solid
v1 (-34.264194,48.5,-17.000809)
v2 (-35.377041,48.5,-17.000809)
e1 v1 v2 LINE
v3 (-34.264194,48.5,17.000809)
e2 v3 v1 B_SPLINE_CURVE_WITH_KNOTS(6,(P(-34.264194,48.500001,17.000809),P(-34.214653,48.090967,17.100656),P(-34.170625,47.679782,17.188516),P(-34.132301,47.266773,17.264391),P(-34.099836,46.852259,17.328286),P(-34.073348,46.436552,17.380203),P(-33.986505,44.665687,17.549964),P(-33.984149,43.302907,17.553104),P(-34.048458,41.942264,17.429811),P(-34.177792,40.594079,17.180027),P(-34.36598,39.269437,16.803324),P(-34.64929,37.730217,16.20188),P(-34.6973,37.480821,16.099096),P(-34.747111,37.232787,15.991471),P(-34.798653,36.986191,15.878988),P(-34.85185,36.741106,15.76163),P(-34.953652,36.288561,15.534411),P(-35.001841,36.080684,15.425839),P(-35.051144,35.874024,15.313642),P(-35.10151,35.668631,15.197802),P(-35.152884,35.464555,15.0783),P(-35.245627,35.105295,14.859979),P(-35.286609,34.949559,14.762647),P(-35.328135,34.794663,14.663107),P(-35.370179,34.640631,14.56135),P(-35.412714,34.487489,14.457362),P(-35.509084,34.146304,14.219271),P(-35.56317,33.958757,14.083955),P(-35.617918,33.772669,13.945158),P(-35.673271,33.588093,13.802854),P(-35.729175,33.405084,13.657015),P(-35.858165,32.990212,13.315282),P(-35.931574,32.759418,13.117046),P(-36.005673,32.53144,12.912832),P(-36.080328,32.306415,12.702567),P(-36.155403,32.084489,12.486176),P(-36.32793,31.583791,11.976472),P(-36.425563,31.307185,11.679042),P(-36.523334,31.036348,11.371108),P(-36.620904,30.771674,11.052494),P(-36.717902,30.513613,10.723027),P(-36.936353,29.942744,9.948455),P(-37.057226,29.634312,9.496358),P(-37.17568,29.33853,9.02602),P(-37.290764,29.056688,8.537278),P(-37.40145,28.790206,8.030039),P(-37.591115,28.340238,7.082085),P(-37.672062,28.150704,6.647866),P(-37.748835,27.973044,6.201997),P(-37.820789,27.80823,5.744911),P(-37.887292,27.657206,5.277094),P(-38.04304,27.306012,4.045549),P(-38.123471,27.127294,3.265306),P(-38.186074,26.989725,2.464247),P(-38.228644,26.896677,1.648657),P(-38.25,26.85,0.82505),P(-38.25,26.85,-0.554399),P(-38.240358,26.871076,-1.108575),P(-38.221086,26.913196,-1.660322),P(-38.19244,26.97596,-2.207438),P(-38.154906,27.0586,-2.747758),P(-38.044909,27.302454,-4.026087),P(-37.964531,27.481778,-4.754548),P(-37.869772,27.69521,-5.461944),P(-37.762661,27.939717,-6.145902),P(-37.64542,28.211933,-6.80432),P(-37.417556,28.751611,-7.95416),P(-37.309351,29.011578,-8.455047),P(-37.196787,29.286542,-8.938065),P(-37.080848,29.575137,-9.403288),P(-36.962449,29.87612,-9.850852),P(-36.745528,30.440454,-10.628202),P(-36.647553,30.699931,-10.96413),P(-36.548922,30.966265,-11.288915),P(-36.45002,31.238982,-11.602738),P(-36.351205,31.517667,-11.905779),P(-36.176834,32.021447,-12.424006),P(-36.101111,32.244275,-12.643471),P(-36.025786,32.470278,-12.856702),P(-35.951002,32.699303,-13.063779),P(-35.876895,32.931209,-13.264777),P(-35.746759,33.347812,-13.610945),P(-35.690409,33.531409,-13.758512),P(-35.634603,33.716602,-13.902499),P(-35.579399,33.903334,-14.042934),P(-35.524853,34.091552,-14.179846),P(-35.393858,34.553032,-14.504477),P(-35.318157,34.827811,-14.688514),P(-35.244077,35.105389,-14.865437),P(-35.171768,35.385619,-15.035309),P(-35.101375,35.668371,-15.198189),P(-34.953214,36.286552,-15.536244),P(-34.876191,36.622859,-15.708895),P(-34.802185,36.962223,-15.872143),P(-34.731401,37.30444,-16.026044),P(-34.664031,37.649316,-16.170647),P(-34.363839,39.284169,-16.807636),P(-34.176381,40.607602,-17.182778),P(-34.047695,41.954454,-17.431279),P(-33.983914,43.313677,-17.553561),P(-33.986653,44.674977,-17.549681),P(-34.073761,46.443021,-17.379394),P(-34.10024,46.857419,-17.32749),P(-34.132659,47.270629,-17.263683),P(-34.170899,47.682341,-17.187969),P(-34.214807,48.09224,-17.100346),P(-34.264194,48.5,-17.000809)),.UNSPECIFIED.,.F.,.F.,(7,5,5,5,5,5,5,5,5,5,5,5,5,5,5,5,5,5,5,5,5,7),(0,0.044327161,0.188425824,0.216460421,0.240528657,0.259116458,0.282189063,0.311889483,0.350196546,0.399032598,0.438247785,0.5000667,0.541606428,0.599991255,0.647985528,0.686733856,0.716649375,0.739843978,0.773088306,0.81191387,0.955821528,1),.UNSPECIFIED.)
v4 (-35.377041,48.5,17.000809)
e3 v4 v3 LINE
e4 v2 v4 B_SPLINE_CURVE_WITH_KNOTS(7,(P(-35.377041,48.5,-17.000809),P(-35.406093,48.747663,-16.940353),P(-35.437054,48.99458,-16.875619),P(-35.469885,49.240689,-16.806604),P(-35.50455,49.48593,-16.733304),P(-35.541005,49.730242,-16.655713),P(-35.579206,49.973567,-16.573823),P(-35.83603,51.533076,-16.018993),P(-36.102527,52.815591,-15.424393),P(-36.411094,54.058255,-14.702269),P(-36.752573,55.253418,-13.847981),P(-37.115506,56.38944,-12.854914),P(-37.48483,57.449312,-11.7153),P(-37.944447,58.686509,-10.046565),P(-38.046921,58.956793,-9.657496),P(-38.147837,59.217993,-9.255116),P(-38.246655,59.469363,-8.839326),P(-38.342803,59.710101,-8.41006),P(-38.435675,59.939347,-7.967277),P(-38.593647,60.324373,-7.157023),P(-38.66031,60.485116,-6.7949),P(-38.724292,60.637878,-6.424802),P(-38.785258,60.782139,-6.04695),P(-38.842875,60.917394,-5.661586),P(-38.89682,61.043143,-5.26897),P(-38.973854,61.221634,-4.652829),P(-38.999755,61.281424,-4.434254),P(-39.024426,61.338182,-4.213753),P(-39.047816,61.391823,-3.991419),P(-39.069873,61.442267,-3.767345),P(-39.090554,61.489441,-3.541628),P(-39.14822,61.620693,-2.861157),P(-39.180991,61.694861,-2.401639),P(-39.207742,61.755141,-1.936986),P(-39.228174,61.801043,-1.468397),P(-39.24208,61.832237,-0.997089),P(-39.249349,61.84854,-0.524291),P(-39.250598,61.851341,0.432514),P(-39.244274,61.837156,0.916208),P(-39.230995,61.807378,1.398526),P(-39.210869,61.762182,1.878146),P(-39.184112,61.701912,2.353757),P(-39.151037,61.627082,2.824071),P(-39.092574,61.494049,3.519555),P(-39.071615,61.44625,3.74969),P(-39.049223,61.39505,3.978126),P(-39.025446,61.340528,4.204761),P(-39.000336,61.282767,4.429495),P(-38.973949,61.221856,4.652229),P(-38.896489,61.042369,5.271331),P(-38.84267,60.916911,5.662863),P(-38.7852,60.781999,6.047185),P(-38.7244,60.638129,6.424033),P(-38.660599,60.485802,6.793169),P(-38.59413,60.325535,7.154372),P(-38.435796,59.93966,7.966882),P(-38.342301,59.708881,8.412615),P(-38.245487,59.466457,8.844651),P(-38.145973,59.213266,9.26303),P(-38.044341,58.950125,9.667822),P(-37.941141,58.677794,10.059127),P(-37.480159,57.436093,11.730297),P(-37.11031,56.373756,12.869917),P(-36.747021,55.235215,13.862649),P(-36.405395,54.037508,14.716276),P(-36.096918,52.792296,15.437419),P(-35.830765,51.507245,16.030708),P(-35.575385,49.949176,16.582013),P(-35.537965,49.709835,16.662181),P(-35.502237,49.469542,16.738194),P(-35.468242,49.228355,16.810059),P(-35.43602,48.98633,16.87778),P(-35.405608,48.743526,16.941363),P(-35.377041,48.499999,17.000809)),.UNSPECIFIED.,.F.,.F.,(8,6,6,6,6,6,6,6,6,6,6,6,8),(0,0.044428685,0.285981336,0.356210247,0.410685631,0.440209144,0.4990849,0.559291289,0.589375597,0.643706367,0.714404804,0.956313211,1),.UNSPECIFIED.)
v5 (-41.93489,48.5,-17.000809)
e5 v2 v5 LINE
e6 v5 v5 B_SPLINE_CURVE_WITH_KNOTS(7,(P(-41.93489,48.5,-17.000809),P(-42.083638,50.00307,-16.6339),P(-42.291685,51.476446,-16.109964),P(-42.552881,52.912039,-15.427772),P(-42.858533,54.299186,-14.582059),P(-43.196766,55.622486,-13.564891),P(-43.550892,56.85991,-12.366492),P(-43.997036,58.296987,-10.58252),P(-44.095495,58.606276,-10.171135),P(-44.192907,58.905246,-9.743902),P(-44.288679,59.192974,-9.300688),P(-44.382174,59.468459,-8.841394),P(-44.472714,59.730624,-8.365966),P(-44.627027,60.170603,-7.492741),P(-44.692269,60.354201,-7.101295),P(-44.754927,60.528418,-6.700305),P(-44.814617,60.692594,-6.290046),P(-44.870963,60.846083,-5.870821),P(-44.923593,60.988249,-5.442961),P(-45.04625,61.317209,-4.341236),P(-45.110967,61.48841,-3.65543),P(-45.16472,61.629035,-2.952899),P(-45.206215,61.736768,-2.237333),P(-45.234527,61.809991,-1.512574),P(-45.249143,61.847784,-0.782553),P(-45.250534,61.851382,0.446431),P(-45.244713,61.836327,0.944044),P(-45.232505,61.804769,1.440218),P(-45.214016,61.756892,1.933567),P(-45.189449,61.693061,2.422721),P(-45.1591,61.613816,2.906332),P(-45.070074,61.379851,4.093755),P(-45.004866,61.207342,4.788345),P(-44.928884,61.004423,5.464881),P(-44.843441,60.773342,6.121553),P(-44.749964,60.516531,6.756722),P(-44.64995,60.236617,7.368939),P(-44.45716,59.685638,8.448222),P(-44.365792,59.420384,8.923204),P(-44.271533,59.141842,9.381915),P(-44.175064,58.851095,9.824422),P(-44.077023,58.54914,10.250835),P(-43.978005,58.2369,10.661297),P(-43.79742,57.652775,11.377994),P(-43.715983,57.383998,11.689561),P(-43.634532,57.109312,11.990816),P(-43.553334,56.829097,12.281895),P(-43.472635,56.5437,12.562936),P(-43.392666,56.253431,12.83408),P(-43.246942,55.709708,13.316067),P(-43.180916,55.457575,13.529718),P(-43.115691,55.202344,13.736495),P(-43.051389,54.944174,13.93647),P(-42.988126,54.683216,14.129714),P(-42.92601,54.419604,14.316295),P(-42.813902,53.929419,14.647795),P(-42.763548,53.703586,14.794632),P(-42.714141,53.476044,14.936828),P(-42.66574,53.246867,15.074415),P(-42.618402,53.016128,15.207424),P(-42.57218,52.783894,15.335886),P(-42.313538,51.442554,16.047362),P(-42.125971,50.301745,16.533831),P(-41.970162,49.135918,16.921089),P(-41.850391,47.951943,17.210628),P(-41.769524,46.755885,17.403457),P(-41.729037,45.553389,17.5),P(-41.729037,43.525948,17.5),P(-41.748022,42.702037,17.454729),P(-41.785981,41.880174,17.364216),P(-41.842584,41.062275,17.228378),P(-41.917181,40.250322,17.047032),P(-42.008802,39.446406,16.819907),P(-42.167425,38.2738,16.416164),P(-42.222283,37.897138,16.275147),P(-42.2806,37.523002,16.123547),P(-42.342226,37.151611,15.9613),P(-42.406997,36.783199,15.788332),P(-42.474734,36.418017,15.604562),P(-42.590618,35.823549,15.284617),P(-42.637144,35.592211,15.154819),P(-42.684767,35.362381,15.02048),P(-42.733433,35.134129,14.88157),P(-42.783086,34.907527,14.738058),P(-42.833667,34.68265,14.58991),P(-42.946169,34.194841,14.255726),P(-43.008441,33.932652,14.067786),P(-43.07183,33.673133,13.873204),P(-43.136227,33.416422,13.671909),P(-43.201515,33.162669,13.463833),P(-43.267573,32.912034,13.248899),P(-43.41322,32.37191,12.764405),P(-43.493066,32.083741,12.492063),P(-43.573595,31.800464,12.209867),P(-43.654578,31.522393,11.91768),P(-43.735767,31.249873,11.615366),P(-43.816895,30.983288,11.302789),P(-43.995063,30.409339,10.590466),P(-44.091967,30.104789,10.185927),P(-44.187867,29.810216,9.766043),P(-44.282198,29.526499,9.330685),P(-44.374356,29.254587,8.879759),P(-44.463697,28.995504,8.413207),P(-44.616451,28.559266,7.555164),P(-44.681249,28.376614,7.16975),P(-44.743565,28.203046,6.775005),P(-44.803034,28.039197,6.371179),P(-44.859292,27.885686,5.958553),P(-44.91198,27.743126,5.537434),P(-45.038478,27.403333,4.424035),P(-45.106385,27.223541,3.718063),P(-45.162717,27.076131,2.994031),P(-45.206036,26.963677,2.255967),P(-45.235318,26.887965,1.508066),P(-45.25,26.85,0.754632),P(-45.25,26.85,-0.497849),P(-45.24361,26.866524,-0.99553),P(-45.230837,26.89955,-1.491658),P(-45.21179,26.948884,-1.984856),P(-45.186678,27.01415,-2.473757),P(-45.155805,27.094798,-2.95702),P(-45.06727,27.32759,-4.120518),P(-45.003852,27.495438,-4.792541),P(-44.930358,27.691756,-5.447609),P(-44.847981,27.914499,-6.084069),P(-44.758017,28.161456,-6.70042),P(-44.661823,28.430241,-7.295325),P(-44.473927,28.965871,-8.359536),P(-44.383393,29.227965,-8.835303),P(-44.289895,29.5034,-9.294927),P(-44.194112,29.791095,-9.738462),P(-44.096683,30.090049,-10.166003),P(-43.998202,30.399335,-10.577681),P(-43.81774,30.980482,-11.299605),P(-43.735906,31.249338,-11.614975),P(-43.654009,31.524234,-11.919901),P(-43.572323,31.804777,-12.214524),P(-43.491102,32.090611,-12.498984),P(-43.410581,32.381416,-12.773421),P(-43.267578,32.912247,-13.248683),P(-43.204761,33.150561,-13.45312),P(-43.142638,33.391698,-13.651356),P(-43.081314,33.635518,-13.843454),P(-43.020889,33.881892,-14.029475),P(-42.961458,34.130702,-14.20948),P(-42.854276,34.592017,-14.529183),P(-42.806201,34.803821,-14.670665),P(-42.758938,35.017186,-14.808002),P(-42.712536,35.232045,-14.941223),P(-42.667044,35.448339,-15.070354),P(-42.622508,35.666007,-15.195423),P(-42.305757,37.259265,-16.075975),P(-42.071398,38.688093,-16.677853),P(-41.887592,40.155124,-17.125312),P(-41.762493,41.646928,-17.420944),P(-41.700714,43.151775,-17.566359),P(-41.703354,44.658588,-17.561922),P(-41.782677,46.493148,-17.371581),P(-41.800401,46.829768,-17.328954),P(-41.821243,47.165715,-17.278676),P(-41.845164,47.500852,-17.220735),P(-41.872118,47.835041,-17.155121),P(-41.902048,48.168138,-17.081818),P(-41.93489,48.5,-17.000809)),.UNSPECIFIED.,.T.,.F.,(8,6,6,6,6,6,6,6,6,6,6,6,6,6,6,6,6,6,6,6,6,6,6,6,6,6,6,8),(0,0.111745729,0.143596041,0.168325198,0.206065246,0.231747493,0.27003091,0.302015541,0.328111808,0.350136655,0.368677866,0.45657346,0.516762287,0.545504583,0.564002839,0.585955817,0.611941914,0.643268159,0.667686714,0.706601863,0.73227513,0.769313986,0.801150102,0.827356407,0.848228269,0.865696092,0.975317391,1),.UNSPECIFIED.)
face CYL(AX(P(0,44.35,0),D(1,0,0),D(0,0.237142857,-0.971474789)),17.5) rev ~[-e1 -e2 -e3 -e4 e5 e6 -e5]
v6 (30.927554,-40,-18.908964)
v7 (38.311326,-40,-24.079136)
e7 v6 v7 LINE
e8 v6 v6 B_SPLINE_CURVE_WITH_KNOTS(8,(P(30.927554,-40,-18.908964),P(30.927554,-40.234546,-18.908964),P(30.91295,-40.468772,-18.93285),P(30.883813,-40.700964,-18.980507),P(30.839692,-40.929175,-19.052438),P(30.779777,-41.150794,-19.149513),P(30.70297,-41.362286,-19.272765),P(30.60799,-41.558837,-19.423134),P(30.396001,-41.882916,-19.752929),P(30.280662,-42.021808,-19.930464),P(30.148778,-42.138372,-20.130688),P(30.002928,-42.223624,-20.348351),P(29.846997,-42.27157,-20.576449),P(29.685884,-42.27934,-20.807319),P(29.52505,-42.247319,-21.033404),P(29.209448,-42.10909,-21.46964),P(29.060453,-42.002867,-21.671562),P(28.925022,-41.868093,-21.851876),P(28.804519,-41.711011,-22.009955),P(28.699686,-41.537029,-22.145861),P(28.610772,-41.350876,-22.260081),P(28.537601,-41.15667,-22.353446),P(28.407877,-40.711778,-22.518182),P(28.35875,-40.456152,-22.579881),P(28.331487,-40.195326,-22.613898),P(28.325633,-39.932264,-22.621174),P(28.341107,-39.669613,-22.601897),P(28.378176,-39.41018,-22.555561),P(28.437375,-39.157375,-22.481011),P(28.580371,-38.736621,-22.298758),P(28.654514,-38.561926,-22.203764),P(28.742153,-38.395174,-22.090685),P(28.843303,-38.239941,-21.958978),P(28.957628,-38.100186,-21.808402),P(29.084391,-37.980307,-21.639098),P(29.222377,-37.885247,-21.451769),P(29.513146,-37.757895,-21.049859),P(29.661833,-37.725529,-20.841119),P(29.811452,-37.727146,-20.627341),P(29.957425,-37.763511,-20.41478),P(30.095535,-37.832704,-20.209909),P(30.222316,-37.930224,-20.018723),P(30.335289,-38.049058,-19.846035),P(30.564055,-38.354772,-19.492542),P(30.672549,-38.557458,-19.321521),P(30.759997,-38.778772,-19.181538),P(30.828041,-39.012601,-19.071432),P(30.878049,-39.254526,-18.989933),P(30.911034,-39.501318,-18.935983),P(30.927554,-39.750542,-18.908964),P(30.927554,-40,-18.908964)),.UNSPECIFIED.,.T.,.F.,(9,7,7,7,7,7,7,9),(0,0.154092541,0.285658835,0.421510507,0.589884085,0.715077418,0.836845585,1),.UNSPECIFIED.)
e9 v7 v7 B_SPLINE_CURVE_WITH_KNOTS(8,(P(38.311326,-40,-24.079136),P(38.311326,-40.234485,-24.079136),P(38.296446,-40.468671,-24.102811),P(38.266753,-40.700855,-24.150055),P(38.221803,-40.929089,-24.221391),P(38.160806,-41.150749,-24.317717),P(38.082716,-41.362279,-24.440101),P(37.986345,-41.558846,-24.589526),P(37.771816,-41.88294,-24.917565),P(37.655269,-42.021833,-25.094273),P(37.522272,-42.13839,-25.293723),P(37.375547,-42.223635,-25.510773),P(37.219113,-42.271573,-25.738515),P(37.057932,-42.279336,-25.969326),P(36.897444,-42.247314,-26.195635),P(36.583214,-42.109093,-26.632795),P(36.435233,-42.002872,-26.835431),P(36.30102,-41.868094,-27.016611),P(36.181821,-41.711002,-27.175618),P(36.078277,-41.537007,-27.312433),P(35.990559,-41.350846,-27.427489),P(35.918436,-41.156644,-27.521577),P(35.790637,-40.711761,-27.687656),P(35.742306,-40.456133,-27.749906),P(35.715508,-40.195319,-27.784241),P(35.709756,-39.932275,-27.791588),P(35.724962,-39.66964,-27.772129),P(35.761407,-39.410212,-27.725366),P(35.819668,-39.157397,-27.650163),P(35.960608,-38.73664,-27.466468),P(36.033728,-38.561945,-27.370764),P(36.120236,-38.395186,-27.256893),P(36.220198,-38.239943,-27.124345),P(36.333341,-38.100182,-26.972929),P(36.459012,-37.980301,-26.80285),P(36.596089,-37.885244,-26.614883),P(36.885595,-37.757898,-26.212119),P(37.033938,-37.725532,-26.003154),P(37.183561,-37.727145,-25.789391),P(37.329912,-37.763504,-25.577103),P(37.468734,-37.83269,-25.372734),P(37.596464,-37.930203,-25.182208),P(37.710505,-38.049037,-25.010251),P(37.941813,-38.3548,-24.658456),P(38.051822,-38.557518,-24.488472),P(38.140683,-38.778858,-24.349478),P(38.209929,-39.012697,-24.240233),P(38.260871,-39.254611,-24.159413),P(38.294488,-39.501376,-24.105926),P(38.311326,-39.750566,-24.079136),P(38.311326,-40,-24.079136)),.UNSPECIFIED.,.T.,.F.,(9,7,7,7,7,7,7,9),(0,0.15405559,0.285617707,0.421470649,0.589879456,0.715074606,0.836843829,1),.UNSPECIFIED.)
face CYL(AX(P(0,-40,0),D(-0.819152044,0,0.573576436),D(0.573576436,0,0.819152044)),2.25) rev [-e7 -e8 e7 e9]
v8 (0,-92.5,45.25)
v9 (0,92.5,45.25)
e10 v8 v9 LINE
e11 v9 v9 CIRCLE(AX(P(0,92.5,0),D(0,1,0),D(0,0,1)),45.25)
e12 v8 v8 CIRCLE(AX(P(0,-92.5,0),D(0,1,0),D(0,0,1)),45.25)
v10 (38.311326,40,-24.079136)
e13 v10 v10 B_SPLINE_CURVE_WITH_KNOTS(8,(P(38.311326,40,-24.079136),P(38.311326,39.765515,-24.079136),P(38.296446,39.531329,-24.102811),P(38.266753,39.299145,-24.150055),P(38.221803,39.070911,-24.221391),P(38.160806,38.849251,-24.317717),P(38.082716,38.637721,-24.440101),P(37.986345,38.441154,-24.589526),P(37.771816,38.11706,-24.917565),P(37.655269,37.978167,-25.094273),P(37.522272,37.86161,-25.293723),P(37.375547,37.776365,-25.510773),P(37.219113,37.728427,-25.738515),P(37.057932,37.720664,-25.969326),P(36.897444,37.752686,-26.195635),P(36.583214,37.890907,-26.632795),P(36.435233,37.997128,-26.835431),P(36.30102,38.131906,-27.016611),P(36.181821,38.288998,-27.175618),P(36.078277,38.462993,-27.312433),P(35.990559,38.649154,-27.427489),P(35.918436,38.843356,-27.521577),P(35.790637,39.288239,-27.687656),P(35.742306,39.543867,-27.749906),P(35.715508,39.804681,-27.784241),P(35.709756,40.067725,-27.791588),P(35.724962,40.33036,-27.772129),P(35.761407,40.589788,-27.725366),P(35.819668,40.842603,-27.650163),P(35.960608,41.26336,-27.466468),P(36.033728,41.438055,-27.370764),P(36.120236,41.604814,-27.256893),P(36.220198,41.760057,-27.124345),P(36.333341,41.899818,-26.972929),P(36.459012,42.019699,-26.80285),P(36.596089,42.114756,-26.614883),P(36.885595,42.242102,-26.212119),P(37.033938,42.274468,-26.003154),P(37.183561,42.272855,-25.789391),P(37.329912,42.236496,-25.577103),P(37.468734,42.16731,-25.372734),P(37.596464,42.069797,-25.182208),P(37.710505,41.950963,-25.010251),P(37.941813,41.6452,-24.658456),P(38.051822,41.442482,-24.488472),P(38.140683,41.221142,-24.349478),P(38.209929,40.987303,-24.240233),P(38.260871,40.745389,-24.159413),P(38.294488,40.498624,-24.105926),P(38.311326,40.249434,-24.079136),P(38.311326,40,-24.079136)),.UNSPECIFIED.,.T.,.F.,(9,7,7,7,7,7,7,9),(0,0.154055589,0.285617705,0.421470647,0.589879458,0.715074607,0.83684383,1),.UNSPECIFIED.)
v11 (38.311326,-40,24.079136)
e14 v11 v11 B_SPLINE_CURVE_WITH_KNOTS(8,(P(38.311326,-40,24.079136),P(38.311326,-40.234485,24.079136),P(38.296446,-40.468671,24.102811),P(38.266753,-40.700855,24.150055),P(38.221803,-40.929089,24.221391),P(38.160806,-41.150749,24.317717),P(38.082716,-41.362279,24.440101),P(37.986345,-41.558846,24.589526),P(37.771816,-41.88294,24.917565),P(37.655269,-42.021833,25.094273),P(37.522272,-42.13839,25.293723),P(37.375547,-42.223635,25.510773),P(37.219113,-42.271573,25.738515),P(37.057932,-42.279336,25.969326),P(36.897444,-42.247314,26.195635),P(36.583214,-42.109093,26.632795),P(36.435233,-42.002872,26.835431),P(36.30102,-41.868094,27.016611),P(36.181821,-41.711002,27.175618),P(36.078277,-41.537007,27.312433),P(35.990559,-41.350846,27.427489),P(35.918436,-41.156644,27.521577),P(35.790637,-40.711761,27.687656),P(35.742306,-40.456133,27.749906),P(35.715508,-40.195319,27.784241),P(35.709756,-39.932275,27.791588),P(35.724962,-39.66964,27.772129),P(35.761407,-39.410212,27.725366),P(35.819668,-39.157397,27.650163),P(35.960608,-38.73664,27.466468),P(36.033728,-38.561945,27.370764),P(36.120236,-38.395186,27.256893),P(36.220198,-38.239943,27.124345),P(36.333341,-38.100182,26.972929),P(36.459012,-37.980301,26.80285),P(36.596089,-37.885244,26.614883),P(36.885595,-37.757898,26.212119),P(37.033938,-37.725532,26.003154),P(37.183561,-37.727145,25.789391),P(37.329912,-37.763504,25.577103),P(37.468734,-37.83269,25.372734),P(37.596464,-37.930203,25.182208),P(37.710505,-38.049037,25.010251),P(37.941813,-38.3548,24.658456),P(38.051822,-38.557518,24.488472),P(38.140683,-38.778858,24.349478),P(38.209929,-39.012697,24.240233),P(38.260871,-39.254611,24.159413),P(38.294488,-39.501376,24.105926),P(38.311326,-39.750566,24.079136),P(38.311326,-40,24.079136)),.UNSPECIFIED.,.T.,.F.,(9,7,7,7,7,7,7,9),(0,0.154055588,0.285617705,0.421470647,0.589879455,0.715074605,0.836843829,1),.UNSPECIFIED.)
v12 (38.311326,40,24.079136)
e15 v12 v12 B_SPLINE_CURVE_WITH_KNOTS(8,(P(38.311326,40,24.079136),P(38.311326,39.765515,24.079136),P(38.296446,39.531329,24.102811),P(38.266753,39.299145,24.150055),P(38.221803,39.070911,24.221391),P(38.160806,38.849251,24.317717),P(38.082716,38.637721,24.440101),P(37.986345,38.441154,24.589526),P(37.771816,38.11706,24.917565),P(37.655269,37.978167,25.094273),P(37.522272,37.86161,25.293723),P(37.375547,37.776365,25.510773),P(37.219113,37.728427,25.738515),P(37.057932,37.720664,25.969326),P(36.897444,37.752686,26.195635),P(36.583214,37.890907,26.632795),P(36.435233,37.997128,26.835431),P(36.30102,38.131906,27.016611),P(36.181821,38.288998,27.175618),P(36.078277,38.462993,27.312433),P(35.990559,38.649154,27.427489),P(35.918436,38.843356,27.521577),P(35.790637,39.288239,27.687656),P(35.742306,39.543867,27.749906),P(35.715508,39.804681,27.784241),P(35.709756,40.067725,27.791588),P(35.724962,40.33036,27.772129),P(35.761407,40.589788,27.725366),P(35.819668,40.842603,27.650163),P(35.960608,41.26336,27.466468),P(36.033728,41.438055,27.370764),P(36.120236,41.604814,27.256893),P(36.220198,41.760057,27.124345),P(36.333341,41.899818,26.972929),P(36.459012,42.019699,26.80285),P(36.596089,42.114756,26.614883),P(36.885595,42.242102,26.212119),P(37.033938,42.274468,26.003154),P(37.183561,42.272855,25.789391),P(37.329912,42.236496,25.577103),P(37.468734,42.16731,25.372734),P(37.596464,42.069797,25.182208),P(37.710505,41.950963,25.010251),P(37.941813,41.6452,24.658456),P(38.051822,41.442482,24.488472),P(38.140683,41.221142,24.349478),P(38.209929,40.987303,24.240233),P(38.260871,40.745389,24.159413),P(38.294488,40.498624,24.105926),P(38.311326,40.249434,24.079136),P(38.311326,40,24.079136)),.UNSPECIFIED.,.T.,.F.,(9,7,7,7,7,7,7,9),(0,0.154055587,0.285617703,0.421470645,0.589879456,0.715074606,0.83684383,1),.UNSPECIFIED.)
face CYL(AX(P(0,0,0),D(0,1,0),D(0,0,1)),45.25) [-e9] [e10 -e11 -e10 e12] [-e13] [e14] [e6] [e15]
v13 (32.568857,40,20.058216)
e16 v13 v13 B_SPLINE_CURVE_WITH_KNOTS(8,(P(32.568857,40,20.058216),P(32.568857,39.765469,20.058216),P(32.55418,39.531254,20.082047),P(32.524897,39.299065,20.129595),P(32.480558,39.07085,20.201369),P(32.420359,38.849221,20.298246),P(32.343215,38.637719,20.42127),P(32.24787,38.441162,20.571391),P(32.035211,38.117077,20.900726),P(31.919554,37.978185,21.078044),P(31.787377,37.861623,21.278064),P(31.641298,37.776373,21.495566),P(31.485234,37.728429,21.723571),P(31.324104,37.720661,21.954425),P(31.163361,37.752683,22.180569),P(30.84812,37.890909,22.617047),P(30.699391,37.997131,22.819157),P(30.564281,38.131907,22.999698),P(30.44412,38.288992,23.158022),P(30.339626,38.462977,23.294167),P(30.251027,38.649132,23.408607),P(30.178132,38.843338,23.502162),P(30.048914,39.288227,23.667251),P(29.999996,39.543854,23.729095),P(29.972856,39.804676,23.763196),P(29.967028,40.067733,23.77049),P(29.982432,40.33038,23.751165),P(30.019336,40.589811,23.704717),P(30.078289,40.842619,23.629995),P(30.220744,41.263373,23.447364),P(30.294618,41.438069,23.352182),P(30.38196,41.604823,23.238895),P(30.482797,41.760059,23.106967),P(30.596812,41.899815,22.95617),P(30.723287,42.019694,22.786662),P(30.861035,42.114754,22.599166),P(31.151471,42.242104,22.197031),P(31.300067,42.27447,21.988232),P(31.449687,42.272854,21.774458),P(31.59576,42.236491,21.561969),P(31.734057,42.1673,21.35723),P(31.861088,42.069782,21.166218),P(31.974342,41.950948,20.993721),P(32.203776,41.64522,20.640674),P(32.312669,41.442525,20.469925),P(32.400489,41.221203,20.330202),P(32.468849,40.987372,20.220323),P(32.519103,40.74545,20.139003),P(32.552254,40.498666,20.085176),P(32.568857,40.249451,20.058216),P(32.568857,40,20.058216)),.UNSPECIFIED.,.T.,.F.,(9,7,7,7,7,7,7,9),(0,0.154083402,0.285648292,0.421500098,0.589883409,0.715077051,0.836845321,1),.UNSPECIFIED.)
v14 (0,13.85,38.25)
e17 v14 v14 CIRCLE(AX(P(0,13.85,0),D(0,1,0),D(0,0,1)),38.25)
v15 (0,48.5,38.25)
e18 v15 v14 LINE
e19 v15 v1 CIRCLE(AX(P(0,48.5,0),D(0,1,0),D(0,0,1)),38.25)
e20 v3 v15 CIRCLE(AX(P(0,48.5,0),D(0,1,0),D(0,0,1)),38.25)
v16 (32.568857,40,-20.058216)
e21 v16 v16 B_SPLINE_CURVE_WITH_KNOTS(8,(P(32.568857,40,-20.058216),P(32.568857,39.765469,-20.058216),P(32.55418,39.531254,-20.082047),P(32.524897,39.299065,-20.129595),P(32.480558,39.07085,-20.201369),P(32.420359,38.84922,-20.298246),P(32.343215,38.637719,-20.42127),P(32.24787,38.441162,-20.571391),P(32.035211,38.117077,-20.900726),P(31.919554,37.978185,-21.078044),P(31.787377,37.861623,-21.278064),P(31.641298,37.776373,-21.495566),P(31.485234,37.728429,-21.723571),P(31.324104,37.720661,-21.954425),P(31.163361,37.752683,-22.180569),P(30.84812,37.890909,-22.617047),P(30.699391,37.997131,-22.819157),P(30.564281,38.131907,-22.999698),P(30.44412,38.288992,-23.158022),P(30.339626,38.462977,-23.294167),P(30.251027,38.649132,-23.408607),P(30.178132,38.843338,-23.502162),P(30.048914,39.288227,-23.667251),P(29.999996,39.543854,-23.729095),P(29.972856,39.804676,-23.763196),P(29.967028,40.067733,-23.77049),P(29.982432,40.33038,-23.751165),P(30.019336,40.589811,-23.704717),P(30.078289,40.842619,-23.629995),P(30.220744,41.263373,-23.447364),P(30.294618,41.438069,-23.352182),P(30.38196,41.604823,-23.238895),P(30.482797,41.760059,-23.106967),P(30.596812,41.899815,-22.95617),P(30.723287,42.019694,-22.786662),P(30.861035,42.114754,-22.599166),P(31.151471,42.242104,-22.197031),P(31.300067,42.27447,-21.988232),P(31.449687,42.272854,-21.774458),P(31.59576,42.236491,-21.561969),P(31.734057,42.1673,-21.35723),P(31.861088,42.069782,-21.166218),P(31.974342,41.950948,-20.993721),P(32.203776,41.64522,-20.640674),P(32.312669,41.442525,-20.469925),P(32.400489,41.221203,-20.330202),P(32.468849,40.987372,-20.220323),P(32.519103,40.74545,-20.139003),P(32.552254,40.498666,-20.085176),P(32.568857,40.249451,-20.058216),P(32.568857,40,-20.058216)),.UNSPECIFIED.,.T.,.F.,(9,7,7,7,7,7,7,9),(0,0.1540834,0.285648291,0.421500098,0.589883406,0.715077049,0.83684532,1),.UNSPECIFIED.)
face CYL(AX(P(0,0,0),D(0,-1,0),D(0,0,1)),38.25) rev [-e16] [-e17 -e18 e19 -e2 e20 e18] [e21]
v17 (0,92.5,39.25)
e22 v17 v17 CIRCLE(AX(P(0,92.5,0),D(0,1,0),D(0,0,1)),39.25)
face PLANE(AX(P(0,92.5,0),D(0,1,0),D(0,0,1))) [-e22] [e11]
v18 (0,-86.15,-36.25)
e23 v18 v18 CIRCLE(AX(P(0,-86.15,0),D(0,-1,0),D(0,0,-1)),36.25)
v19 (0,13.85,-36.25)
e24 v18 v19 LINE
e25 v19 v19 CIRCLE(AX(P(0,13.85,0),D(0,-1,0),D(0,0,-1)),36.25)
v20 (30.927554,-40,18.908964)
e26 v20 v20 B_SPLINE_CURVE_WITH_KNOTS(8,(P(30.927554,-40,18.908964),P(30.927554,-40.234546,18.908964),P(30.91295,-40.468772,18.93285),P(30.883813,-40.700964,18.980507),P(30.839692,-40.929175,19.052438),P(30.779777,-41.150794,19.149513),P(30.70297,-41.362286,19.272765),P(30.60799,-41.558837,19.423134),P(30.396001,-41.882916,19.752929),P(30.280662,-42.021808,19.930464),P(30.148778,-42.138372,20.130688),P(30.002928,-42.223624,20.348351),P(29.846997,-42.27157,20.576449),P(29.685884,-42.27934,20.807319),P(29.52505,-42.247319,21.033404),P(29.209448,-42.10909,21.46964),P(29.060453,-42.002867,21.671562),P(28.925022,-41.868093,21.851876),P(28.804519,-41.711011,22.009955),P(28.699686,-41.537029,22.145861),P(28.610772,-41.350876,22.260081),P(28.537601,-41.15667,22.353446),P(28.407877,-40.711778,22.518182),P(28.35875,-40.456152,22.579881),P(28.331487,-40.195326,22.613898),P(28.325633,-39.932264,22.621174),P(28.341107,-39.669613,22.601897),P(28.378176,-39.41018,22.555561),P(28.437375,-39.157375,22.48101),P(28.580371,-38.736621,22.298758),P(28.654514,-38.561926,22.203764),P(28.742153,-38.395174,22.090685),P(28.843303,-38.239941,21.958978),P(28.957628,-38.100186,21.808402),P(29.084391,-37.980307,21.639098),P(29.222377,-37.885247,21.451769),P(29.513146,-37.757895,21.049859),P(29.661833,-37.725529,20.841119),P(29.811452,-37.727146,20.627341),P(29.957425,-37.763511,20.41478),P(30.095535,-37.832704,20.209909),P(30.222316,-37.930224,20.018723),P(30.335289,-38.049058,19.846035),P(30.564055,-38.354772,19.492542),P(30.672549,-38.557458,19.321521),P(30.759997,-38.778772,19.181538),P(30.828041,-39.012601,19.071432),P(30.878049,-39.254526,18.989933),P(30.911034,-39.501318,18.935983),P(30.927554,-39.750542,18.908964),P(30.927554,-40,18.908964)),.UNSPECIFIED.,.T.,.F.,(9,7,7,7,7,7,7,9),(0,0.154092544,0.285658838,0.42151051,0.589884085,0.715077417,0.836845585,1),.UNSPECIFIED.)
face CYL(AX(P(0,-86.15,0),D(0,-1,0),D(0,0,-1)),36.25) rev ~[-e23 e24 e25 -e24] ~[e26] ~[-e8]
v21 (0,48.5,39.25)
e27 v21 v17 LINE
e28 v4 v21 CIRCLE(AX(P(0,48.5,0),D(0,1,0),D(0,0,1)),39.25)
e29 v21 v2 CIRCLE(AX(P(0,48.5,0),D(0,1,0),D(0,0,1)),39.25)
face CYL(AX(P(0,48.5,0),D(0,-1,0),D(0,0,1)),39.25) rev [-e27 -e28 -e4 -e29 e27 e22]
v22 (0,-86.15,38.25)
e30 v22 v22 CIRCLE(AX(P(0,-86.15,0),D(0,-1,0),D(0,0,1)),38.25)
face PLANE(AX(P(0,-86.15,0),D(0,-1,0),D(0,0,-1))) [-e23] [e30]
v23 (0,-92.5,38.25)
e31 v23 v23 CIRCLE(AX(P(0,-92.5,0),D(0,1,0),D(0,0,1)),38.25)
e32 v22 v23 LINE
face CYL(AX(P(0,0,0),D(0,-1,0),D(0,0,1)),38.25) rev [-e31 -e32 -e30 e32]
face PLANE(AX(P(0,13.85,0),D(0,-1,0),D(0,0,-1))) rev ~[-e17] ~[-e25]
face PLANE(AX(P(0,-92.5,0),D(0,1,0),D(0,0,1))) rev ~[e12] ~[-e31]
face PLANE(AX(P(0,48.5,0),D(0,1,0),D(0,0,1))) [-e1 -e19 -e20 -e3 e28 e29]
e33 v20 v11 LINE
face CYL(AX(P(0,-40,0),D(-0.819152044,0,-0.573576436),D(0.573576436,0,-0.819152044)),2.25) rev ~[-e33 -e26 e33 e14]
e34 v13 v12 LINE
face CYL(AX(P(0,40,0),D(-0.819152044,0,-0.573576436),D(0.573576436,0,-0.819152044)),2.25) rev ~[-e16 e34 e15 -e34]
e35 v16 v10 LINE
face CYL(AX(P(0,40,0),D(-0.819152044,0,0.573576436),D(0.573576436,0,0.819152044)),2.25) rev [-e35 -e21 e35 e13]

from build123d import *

# Parameters (mm, degrees)
SKETCH1_R           = 45.25
SKETCH1_R_2         = 38.25
BOSS_EXTRUDE1_DEPTH = 92.5
BOSS_EXTRUDE2_START = -6.35
SKETCH2_R           = 38.25
SKETCH2_R_2         = 36.25
BOSS_EXTRUDE2_DEPTH = 100
CUT_EXTRUDE3_START  = -44
SKETCH6_R           = 39.25
SKETCH6_R_2         = 38.25
CUT_EXTRUDE3_DEPTH  = 44
SKETCH7_R           = 17.5
CUT_EXTRUDE4_DEPTH  = 113.478331247
SKETCH10_R          = 2.25
CUT_EXTRUDE5_DEPTH  = 113.47833141


with BuildPart() as part:
    # Sketch1 → Boss-Extrude1 (new, symmetric)
    with BuildSketch(Plane(origin=(0, 0, 0), x_dir=(1, 0, 0), z_dir=(0, 1, 0))):
        with Locations(Location((0, 0, 0), (0, 0, 270))):
            Circle(SKETCH1_R)
        with Locations(Location((0, 0, 0), (0, 0, 270))):
            Circle(SKETCH1_R_2, mode=Mode.SUBTRACT)
    extrude(amount=BOSS_EXTRUDE1_DEPTH, both=True)

    # Sketch2 → Boss-Extrude2 (add)
    with BuildSketch(Plane.XZ.offset(92.5).offset(BOSS_EXTRUDE2_START)):
        with Locations(Location((0, 0, 0), (0, 0, 270))):
            Circle(SKETCH2_R)
        with Locations(Location((0, 0, 0), (0, 0, 270))):
            Circle(SKETCH2_R_2, mode=Mode.SUBTRACT)
    extrude(amount=-BOSS_EXTRUDE2_DEPTH)

    # Sketch6 → Cut-Extrude3 (cut)
    with BuildSketch(Plane(origin=(0, 92.5, 0), x_dir=(1, 0, 0), z_dir=(0, 1, 0)).offset(CUT_EXTRUDE3_START)):
        with Locations(Location((0, 0, 0), (0, 0, 270))):
            Circle(SKETCH6_R)
        with Locations(Location((0, 0, 0), (0, 0, 90))):
            Circle(SKETCH6_R_2, mode=Mode.SUBTRACT)
    extrude(amount=CUT_EXTRUDE3_DEPTH, mode=Mode.SUBTRACT)

    # Sketch7 → Cut-Extrude4 (cut, through all)
    with BuildSketch(Plane(origin=(0, 0, 0), x_dir=(0, 0, -1), z_dir=(1, 0, 0))):
        with Locations(Location((0, 44.35, 0), (0, 0, 13.717970606))):
            Circle(SKETCH7_R)
    extrude(amount=-CUT_EXTRUDE4_DEPTH, mode=Mode.SUBTRACT)

    # Sketch10 → Cut-Extrude5 (cut, through all)
    with BuildSketch(Plane(origin=(0, 0, 0), x_dir=(-0.5735764363510474, 0, -0.819152044288991), z_dir=(0.819152044288991, 0, -0.5735764363510474))):
        with Locations(Location((0, 40, 0), (0, 0, 180))):
            Circle(SKETCH10_R)
        with Locations(Location((0, -40, 0), (0, 0, 180))):
            Circle(SKETCH10_R)
    cut_extrude5 = extrude(amount=CUT_EXTRUDE5_DEPTH, mode=Mode.SUBTRACT)

    # Mirror1: Cut-Extrude5 across plane
    add(cut_extrude5.mirror(Plane.XY), mode=Mode.SUBTRACT)


solid = part.part
